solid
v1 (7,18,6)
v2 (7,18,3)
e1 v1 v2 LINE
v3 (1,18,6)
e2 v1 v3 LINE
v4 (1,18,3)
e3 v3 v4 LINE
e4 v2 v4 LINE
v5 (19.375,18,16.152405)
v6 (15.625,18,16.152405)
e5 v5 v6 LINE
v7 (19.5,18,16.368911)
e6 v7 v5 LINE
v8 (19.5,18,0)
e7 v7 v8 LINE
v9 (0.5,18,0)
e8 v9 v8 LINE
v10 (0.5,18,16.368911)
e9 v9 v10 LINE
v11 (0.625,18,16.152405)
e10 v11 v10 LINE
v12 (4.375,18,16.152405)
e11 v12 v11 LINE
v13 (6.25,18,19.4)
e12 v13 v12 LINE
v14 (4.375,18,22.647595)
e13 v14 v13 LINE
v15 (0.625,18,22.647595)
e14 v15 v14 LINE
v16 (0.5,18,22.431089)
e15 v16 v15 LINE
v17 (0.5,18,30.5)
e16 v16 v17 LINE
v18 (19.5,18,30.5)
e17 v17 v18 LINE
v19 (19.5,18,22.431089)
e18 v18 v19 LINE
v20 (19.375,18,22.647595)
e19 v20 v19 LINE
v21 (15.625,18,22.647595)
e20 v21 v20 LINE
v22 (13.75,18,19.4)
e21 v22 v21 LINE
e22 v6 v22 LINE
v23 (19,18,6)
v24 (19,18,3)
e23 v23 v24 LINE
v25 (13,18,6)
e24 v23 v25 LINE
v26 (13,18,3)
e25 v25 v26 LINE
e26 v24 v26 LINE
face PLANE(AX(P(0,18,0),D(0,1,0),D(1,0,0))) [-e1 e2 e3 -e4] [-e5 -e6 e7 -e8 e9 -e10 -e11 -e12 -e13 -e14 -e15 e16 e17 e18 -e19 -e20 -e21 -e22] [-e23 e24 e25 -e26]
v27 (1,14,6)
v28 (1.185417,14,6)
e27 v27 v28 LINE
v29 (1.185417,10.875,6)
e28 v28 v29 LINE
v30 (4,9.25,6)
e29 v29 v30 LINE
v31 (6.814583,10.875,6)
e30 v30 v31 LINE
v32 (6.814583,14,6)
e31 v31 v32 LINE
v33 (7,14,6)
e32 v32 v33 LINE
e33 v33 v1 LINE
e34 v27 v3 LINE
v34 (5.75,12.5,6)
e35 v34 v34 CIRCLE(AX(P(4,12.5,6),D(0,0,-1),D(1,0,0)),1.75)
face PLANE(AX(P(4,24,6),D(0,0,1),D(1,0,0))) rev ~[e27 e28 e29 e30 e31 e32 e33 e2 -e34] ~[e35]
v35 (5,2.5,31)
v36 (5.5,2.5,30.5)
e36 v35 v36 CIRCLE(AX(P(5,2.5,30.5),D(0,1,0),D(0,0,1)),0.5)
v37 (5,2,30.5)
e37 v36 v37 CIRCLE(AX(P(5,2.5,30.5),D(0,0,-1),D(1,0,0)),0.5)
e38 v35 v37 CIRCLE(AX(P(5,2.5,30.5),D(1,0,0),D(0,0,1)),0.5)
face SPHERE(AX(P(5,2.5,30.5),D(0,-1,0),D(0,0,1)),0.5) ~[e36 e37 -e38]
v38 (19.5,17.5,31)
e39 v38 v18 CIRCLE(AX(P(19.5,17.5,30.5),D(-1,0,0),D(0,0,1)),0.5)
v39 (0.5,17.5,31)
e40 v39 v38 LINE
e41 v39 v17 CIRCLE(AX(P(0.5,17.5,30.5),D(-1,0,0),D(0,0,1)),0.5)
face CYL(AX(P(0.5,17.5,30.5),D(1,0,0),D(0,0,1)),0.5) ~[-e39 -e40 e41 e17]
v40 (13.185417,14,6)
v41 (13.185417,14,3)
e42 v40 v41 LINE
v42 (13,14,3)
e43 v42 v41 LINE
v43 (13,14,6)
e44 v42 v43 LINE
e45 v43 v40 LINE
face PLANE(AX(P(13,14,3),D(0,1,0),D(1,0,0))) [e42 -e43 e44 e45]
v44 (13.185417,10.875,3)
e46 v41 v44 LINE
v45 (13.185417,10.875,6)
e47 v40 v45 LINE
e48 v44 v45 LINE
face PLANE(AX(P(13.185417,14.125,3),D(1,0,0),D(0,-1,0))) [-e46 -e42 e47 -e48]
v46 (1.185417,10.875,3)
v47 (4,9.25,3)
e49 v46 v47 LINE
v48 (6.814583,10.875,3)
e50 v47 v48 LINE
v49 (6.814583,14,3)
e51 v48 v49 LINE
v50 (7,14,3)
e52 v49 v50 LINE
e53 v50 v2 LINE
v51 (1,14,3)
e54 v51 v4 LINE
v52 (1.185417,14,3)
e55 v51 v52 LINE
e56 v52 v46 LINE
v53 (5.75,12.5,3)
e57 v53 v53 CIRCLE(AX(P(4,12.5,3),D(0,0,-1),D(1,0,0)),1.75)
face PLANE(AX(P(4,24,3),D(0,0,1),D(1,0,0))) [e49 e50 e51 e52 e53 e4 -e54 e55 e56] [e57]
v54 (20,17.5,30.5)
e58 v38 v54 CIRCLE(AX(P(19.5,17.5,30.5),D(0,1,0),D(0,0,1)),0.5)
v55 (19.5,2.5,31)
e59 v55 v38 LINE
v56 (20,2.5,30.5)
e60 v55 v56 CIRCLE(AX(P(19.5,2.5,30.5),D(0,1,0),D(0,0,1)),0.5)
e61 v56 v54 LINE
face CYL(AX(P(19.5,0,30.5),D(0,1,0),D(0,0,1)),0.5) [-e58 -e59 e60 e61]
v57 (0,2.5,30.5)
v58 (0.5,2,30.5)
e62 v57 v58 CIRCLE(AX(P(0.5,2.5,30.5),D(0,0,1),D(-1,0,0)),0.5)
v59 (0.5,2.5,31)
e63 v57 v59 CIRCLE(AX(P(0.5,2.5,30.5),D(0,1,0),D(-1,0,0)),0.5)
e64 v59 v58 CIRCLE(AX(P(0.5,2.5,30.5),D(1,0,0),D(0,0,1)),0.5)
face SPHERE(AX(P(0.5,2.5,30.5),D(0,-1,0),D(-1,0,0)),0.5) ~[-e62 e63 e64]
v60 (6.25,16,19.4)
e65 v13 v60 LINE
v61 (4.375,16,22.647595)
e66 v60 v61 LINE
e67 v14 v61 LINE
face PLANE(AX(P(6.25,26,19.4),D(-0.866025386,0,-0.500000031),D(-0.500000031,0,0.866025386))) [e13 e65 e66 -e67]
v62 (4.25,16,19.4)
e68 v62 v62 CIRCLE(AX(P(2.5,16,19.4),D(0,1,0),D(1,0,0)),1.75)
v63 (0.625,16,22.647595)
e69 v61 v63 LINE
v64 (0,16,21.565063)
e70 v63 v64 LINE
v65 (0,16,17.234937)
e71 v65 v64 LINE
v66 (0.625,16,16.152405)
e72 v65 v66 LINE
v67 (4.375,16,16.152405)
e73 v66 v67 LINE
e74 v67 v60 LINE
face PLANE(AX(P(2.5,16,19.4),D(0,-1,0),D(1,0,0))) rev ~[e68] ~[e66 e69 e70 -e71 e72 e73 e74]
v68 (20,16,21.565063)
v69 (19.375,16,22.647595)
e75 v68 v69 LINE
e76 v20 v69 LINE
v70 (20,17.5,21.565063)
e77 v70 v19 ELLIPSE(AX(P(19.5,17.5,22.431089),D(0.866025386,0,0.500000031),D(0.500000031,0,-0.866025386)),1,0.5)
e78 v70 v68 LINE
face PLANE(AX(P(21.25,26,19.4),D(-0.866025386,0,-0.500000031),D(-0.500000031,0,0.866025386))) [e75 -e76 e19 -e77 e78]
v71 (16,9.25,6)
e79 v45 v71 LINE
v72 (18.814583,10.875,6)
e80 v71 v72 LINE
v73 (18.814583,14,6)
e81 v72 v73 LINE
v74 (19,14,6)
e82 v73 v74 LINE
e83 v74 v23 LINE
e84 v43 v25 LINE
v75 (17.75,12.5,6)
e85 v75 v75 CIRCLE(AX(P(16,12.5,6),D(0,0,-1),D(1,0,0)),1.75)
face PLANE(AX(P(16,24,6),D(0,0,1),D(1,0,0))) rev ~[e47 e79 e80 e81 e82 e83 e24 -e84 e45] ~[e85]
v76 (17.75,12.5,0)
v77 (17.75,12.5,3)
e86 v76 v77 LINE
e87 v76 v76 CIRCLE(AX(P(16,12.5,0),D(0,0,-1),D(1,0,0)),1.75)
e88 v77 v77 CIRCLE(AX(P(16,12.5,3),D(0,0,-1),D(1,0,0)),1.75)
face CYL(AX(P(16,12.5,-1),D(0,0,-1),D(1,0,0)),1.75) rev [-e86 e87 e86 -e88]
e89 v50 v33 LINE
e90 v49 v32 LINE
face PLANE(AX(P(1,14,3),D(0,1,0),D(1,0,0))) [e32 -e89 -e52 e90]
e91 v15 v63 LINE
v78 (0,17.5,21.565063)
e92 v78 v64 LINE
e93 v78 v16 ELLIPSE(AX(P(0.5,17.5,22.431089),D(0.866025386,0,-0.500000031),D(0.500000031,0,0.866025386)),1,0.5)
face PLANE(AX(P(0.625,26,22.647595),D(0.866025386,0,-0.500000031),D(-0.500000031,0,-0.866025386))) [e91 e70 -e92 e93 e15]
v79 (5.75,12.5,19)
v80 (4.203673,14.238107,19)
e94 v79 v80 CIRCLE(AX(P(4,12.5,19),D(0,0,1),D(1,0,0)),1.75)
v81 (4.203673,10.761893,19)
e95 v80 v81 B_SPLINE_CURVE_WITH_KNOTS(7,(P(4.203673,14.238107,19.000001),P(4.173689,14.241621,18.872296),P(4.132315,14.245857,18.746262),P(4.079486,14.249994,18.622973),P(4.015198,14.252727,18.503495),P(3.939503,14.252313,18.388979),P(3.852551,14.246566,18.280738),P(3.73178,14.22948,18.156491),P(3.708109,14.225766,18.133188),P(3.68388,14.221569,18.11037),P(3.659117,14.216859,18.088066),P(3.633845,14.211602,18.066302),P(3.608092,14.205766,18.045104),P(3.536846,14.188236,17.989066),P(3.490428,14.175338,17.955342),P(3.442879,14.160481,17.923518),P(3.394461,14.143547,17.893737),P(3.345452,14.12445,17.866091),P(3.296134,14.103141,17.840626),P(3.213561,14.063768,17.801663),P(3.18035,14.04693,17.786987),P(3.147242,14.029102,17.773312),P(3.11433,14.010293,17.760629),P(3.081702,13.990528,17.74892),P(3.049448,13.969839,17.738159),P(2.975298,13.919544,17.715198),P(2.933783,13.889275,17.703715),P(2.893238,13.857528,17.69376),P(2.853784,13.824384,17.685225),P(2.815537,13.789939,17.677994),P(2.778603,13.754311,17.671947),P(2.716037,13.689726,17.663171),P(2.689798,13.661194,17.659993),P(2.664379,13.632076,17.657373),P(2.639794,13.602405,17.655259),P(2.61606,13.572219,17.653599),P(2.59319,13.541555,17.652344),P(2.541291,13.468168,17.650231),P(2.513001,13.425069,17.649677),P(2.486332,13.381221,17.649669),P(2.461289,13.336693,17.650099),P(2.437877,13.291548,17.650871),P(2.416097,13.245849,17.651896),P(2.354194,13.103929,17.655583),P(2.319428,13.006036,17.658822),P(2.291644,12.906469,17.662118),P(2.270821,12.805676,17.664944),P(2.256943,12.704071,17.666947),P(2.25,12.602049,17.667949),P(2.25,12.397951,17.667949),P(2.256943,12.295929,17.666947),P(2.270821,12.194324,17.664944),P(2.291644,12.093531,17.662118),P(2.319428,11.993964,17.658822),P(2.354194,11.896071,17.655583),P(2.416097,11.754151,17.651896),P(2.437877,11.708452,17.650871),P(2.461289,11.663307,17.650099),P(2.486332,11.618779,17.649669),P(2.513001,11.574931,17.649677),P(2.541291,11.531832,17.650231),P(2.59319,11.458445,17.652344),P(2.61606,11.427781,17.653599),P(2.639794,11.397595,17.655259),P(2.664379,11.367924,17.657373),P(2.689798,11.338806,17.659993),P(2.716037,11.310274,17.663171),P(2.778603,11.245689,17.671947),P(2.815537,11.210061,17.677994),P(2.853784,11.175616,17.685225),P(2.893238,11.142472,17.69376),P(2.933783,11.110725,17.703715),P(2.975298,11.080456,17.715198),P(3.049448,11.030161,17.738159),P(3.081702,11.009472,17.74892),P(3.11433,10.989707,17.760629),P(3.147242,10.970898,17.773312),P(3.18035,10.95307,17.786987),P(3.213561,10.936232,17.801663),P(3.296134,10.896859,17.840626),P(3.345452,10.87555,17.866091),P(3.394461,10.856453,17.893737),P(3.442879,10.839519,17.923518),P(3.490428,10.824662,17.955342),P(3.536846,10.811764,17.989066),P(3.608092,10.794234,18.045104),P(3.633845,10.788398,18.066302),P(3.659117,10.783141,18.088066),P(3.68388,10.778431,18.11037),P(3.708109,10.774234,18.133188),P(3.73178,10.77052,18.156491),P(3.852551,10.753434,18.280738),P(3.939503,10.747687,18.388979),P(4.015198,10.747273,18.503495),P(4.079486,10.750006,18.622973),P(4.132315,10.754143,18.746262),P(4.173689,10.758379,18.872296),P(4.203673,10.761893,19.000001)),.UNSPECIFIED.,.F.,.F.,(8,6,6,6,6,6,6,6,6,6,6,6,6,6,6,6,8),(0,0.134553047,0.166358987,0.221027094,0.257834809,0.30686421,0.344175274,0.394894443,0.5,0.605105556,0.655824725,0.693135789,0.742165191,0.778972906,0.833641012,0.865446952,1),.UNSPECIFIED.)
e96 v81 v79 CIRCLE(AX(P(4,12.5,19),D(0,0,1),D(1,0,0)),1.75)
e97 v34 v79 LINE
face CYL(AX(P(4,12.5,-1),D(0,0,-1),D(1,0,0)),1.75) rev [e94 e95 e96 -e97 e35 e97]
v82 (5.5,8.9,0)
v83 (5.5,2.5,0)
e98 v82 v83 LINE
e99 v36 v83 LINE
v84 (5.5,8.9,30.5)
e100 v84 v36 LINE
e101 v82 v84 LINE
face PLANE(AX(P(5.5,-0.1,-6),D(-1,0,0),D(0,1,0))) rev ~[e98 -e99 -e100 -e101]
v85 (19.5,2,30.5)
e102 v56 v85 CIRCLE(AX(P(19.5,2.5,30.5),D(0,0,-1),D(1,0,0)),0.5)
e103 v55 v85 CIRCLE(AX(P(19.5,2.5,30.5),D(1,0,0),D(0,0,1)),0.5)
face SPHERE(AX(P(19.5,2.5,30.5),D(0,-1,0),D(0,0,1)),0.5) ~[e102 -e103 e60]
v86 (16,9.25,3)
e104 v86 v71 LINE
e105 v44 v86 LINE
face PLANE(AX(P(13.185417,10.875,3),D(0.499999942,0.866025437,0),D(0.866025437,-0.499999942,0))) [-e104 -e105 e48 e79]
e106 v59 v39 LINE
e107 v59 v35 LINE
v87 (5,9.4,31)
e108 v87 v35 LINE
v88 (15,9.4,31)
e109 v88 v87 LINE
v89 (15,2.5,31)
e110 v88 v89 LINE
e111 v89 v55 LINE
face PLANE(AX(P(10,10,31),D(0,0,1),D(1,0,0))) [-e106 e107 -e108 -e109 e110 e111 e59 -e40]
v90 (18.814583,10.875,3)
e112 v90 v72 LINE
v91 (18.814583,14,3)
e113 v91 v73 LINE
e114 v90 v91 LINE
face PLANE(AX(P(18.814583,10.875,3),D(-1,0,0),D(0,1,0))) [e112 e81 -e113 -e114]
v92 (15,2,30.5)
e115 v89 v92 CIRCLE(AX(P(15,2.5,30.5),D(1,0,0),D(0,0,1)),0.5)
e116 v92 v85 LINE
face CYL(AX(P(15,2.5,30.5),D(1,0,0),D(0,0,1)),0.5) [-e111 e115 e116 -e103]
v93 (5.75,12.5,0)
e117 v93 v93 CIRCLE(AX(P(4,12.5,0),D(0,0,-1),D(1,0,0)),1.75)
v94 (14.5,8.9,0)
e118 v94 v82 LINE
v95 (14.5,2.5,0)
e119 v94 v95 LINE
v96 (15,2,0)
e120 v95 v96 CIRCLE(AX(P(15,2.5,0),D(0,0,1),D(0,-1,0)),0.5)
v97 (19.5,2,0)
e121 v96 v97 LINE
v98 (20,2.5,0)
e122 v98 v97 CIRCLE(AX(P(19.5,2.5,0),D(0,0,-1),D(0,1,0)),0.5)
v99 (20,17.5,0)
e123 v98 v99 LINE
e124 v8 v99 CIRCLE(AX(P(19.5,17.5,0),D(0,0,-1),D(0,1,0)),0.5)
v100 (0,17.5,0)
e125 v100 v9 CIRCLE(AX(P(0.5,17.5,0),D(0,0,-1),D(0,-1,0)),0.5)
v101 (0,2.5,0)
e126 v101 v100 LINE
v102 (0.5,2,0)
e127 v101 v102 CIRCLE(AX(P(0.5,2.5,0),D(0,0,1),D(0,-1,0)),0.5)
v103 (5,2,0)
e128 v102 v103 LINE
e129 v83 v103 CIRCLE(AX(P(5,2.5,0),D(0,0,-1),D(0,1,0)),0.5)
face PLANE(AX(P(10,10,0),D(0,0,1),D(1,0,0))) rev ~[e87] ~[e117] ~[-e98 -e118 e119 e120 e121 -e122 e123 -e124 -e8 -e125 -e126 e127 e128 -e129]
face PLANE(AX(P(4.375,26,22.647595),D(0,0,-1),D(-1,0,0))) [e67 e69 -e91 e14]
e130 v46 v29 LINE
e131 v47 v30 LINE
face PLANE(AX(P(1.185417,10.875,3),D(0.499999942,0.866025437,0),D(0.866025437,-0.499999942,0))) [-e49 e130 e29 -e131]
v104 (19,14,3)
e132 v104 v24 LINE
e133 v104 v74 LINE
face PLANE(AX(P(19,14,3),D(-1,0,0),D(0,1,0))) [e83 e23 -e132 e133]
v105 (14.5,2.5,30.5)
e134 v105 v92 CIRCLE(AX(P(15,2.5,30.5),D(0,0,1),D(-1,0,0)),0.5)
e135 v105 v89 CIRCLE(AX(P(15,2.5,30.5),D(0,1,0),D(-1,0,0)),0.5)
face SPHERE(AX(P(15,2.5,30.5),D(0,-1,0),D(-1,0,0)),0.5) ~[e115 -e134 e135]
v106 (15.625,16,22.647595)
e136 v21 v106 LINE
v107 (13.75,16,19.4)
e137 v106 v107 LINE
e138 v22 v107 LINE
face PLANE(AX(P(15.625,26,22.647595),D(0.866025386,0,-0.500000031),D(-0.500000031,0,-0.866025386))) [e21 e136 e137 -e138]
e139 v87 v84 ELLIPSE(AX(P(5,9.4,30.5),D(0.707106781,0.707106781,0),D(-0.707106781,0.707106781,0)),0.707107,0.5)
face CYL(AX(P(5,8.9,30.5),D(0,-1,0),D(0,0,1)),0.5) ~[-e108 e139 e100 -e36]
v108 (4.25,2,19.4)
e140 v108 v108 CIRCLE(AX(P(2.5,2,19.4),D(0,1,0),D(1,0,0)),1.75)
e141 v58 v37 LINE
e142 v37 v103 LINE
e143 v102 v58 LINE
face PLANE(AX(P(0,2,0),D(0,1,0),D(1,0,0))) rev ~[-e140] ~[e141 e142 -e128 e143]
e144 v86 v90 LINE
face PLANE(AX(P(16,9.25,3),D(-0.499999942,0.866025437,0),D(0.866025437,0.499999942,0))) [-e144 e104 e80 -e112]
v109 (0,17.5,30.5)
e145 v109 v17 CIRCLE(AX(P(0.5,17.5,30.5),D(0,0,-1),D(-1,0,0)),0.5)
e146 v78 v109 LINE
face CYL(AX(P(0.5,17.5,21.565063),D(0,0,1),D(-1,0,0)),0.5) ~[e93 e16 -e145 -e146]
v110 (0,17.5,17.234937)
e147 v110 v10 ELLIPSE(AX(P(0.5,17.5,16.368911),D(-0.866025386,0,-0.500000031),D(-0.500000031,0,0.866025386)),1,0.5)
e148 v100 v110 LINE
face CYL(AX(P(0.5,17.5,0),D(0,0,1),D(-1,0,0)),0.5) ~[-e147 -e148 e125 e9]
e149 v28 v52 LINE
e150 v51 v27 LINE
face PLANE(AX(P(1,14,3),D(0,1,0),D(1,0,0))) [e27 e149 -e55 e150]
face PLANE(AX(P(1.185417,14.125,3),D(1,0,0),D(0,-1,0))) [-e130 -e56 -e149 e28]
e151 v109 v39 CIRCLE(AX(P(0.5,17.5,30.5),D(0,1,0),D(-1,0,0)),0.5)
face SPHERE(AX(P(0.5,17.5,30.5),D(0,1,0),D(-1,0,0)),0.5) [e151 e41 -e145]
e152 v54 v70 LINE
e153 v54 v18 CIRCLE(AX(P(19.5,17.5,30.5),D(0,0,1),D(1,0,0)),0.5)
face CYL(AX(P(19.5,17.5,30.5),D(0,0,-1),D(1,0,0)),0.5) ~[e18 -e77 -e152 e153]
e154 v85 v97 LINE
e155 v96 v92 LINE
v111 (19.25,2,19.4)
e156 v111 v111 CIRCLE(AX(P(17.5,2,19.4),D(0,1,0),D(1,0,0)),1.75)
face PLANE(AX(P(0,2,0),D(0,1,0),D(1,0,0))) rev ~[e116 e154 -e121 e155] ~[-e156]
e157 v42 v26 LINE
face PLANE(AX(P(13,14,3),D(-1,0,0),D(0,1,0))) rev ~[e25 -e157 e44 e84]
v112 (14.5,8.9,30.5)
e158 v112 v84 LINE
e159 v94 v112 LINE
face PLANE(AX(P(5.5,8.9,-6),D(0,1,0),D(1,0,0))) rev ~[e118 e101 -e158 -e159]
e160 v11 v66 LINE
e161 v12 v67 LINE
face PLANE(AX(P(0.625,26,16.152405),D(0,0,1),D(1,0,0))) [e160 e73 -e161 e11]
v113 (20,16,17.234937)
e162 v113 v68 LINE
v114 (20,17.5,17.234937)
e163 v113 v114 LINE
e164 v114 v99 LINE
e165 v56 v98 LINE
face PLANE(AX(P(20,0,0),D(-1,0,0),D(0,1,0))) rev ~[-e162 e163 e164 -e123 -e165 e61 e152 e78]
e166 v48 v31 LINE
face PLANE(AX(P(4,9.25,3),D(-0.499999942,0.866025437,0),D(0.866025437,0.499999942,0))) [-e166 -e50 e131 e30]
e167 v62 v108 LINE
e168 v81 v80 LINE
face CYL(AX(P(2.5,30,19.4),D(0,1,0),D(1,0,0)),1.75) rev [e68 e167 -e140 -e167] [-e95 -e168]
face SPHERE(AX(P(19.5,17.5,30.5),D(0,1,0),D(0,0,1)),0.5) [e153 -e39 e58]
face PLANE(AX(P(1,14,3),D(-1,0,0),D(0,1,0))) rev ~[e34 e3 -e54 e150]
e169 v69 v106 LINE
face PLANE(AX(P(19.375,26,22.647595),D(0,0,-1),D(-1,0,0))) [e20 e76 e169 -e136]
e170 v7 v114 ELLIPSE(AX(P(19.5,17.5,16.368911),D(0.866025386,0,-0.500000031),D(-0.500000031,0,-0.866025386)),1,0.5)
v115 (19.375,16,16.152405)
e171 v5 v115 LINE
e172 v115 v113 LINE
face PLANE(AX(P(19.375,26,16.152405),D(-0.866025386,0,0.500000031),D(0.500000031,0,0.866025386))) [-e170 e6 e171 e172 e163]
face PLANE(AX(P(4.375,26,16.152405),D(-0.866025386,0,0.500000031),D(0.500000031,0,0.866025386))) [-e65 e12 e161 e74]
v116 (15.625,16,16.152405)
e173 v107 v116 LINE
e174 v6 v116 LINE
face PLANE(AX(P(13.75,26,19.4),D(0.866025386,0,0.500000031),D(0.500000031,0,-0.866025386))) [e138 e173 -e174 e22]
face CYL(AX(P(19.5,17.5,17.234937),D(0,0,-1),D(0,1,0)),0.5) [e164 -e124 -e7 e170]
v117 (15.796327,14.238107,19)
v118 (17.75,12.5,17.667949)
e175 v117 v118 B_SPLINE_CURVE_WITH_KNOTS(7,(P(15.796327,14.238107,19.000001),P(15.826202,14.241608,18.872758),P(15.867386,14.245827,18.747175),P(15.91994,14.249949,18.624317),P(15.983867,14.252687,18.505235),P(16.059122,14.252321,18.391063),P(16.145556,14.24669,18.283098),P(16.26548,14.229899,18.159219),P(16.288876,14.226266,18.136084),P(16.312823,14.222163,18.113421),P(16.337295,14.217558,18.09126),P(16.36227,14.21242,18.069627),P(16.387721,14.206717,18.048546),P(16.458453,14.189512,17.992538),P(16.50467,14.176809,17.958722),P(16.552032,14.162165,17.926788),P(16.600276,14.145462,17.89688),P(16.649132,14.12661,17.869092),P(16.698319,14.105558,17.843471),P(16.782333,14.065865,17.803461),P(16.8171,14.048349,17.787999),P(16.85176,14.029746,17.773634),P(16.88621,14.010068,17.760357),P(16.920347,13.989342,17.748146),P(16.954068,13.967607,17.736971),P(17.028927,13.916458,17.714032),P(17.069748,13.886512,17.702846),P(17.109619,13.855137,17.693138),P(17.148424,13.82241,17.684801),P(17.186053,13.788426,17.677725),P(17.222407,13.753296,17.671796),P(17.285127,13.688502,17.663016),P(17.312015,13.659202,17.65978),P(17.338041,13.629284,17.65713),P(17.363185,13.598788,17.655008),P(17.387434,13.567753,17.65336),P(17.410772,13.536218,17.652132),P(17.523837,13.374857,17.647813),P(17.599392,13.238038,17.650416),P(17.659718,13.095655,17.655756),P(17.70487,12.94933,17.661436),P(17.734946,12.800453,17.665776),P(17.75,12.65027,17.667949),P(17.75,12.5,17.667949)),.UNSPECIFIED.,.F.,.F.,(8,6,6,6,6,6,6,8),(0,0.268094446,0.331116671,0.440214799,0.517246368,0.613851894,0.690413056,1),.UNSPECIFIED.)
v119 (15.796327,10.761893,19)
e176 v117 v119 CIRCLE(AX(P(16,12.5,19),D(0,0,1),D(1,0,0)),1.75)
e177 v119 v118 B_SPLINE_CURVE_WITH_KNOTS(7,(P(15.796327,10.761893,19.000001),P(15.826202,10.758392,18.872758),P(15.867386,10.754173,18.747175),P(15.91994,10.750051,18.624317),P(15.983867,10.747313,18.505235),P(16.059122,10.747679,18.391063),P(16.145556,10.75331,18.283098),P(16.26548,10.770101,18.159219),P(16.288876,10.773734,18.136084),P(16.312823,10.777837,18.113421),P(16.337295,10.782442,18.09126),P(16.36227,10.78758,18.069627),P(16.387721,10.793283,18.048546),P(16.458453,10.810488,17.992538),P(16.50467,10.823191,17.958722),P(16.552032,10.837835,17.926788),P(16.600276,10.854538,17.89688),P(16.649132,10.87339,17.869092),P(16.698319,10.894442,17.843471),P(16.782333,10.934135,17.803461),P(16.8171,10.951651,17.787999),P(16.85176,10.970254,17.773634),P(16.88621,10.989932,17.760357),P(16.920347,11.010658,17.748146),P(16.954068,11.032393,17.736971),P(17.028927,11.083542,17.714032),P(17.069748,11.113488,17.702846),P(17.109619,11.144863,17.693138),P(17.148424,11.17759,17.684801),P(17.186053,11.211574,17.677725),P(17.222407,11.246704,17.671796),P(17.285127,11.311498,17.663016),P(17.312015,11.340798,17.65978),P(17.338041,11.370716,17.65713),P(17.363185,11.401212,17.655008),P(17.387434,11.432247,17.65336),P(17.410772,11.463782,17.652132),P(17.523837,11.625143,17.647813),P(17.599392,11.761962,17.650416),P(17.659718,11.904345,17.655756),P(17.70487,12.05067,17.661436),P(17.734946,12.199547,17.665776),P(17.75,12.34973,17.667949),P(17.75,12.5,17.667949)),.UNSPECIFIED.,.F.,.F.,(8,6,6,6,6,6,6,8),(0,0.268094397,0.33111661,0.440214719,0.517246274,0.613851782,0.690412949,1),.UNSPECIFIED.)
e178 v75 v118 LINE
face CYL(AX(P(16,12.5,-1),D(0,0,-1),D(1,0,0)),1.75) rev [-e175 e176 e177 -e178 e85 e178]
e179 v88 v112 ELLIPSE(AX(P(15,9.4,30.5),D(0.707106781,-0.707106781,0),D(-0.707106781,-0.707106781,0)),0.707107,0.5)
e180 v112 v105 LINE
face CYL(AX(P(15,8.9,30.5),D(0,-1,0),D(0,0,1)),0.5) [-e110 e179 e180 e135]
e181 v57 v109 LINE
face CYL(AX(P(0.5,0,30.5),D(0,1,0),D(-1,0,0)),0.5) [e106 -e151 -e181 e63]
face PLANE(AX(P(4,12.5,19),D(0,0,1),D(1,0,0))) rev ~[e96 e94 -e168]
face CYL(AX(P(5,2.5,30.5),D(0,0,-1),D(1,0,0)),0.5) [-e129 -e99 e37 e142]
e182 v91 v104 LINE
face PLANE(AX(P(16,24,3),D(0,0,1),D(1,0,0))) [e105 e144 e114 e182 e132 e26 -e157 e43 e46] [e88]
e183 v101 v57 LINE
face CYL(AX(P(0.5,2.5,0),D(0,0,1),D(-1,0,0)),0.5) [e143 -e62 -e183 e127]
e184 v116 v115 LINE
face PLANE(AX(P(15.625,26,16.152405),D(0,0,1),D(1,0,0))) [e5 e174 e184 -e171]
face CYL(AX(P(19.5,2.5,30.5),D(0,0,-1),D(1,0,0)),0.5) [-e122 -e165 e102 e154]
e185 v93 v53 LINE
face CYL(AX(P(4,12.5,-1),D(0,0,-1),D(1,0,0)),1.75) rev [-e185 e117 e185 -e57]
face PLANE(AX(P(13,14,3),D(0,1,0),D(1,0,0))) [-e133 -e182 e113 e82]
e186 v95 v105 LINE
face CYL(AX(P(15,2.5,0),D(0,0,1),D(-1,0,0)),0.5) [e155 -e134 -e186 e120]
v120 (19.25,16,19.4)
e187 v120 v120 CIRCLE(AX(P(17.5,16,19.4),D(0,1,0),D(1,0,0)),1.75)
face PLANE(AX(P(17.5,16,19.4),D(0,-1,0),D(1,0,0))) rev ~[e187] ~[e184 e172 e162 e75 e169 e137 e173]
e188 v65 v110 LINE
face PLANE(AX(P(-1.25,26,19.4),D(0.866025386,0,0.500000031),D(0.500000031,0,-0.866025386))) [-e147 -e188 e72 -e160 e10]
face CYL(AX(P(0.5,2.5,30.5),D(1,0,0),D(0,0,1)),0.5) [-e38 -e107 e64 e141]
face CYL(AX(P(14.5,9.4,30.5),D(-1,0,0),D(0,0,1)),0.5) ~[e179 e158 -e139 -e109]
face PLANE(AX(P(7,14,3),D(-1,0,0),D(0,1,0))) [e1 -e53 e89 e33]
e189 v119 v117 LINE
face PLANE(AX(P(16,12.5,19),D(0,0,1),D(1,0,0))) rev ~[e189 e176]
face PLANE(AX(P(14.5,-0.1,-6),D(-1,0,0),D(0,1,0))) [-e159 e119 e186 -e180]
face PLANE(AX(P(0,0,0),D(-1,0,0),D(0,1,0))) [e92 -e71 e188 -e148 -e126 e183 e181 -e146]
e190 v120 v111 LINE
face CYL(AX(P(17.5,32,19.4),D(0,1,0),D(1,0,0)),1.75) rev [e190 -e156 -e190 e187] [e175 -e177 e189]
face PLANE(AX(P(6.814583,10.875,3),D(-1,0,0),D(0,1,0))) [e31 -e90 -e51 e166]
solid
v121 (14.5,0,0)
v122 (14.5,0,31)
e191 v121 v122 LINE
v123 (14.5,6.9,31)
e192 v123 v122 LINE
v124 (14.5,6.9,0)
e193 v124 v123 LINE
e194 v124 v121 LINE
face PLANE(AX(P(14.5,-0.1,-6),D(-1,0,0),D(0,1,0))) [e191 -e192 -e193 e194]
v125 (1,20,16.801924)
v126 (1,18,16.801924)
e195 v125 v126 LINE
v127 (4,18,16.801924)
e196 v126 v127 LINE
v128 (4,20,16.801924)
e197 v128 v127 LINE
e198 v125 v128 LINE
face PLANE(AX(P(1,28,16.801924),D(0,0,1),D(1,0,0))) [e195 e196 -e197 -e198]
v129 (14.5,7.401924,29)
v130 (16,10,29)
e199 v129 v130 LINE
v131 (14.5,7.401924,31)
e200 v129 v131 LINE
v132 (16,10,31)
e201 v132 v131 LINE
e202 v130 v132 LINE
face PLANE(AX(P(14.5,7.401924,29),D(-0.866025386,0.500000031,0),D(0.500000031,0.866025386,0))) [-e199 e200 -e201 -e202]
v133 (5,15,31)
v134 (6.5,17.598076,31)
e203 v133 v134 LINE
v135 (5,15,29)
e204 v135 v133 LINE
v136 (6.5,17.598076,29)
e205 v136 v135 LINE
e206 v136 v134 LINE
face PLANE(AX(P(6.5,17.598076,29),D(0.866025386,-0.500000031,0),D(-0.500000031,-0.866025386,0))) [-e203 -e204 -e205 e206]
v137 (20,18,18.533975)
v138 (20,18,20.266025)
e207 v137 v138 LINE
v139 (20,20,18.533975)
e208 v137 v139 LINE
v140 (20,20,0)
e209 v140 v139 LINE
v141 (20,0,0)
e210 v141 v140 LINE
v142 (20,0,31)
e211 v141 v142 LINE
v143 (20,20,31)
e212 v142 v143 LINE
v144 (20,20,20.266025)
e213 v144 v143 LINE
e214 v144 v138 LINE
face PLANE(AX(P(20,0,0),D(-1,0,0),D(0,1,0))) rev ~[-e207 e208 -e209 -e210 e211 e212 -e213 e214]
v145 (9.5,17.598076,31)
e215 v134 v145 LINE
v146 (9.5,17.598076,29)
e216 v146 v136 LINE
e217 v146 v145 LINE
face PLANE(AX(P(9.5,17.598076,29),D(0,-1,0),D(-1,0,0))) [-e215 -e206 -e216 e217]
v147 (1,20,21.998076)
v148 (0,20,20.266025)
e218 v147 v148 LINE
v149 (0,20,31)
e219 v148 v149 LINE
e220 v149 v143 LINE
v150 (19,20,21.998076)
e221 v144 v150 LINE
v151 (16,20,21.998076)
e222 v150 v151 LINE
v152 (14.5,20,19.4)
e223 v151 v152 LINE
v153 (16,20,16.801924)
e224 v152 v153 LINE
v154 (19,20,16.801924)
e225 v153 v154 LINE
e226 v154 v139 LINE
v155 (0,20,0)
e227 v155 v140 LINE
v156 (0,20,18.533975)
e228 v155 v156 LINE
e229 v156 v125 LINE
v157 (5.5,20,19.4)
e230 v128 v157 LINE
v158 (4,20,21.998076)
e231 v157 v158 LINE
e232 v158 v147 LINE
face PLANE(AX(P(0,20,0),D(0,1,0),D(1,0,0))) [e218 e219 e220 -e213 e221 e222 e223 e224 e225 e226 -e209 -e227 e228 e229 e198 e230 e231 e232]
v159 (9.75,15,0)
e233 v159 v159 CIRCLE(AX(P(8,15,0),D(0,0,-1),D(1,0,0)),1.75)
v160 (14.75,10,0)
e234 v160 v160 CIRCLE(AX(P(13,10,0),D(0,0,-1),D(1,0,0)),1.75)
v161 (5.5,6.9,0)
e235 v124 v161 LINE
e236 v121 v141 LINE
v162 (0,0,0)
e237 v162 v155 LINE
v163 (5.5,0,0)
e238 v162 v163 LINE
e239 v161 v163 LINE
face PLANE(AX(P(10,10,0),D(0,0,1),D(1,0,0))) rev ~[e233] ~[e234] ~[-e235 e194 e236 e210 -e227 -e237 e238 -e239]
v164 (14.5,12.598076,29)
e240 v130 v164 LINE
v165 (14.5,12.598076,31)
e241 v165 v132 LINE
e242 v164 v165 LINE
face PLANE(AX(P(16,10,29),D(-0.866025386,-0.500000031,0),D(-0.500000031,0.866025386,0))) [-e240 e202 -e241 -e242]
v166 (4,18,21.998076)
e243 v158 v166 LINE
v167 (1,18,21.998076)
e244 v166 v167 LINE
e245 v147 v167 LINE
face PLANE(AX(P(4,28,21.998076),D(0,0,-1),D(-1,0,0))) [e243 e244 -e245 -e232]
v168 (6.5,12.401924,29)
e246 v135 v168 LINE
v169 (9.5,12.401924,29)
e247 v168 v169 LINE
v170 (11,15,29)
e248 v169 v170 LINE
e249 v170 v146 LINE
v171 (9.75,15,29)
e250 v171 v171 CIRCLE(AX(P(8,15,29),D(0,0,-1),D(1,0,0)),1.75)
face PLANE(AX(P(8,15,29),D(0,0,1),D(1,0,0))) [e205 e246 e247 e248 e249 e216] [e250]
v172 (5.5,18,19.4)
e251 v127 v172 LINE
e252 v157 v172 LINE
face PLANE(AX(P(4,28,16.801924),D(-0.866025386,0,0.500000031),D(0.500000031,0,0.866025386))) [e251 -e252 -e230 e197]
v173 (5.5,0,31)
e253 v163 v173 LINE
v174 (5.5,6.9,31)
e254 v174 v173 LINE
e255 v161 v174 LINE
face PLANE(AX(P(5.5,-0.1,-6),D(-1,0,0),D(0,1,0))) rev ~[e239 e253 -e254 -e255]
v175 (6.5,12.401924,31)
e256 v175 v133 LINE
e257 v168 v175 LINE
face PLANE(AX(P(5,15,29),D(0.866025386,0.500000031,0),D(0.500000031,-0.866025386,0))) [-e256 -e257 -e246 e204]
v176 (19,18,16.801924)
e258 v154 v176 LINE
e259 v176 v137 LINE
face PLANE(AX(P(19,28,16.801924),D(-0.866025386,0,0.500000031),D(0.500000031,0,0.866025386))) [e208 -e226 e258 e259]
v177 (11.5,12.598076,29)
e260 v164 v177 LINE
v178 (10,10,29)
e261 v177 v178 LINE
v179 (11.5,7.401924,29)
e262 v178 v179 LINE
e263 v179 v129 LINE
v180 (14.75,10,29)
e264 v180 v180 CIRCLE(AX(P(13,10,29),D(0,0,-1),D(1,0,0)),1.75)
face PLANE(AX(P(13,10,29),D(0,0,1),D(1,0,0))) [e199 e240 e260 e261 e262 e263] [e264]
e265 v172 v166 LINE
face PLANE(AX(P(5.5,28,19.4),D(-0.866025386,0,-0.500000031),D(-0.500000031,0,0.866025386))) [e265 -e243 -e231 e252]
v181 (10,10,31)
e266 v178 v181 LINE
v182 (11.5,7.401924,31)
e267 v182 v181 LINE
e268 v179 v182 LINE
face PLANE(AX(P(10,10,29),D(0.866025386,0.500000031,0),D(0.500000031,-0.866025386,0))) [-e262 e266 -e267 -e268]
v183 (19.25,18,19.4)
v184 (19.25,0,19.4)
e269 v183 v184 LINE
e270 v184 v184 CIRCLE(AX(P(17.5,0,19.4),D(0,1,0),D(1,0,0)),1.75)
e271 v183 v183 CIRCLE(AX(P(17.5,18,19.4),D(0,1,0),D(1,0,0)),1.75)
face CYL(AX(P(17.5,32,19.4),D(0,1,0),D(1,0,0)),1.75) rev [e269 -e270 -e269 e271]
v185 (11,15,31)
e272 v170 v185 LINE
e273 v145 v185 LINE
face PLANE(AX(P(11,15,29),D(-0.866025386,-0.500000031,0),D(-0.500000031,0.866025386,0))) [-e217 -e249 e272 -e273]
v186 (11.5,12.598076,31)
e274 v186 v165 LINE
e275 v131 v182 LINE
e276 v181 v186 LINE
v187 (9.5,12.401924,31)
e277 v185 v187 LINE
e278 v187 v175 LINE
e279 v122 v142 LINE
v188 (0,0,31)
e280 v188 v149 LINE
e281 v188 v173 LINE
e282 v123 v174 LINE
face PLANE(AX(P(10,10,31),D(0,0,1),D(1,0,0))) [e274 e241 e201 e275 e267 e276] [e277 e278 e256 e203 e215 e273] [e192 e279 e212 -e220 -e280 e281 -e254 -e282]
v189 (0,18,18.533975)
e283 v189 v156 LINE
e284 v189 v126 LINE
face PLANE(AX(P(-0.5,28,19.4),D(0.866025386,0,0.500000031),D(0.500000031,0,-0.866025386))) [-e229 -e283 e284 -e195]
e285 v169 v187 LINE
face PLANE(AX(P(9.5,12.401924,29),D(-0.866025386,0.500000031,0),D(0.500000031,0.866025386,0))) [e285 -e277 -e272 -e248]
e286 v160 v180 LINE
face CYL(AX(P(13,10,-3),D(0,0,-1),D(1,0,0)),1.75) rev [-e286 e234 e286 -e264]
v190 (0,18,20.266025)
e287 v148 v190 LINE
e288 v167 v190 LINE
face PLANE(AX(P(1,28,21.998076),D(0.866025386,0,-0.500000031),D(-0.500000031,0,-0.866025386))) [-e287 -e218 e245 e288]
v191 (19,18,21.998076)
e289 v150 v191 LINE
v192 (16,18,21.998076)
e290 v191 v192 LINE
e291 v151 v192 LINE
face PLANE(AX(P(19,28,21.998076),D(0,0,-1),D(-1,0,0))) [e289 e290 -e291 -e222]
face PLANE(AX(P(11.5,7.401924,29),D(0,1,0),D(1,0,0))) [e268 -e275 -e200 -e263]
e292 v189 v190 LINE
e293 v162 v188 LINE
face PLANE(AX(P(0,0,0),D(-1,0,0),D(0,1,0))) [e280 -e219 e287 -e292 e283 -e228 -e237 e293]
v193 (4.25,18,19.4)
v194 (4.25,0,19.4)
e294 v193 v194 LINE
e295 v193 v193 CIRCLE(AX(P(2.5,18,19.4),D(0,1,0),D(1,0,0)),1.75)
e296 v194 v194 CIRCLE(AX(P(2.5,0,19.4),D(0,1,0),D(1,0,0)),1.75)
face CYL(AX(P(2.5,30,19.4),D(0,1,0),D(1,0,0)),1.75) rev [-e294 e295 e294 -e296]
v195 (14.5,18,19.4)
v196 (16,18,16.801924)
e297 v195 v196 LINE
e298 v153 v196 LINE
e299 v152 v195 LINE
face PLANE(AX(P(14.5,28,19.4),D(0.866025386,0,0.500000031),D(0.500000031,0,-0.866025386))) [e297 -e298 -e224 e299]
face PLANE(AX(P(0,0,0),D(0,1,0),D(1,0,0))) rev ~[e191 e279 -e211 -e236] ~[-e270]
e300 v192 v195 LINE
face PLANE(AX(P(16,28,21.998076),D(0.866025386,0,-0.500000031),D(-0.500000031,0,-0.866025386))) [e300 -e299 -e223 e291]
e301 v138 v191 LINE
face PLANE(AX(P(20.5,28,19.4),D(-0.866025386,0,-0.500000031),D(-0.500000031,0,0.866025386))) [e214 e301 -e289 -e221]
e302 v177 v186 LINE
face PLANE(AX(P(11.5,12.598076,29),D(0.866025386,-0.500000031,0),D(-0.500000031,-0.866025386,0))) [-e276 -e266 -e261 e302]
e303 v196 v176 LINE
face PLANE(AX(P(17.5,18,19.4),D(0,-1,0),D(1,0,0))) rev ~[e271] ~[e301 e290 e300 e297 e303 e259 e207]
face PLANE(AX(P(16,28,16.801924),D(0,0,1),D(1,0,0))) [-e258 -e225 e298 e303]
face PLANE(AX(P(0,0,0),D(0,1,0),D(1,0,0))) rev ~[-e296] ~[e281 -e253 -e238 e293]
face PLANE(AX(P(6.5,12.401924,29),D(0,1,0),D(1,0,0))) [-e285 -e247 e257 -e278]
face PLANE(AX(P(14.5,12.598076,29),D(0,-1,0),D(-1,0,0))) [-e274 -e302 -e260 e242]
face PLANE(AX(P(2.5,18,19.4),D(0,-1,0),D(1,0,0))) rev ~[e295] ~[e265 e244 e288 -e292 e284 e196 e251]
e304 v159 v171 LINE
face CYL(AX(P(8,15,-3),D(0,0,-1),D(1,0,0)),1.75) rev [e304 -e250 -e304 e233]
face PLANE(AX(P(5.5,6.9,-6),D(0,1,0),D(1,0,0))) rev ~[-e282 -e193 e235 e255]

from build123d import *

# Parameters (mm, degrees)
BOX001_W          = 9
BOX001_H          = 7
BOX001_DEPTH      = 42
PRISM003_DEPTH    = 10
PRISM002_DEPTH    = 10
CYLINDER004_R     = 1.75
CYLINDER004_DEPTH = 43
CYLINDER003_R     = 1.75
CYLINDER003_DEPTH = 40
CYLINDER002_R     = 1.75
CYLINDER002_DEPTH = 39
CYLINDER001_R     = 1.75
CYLINDER001_DEPTH = 41
PRISM001_DEPTH    = 10
PRISM_DEPTH       = 10
BOX_W             = 20
BOX_H             = 20
BOX_DEPTH         = 31
BOX009_W          = 30
BOX009_H          = 30
BOX009_DEPTH      = 35
BOX008_W          = 30
BOX008_H          = 30
BOX008_DEPTH      = 35
PRISM004_DEPTH    = 3
CYLINDER005_R     = 1.75
CYLINDER005_DEPTH = 20
BOX004_W          = 6
BOX004_H          = 20
BOX004_DEPTH      = 3
PRISM007_DEPTH    = 3
CYLINDER008_R     = 1.75
CYLINDER008_DEPTH = 20
BOX007_W          = 6
BOX007_H          = 20
BOX007_DEPTH      = 3
BOX006_W          = 9
BOX006_H          = 9
BOX006_DEPTH      = 42
CYLINDER006_R     = 1.75
CYLINDER006_DEPTH = 39
CYLINDER007_R     = 1.75
CYLINDER007_DEPTH = 41
PRISM005_DEPTH    = 10
PRISM006_DEPTH    = 10
BOX005_W          = 20
BOX005_H          = 20
BOX005_DEPTH      = 31
FILLET_R          = 0.5
FILLET001_R       = 0.5


with BuildPart() as cubo001:
    # Box001 → Box001 (new body)
    with BuildSketch(Plane(origin=(5.5, -0.1, -6), x_dir=(1, 0, 0), z_dir=(0, 0, 1))):
        with Locations((4.5, 3.5)):
            Rectangle(BOX001_W, BOX001_H)
    extrude(amount=BOX001_DEPTH)


with BuildPart() as prisma003:
    # Prism003 → Prism003 (new body)
    with BuildSketch(Plane(origin=(8, 15, 29), x_dir=(1, 0, 0), z_dir=(0, 0, 1))):
        Polygon((3, 0), (1.5, 2.598076), (-1.5, 2.598076), (-3, 0), (-1.5, -2.598076), (1.5, -2.598076), align=None)
    extrude(amount=PRISM003_DEPTH)


with BuildPart() as prisma002:
    # Prism002 → Prism002 (new body)
    with BuildSketch(Plane(origin=(13, 10, 29), x_dir=(1, 0, 0), z_dir=(0, 0, 1))):
        Polygon((3, 0), (1.5, 2.598076), (-1.5, 2.598076), (-3, 0), (-1.5, -2.598076), (1.5, -2.598076), align=None)
    extrude(amount=PRISM002_DEPTH)


with BuildPart() as cilindro004:
    # Cylinder004 → Cylinder004 (new body)
    with BuildSketch(Plane(origin=(8, 15, -3), x_dir=(1, 0, 0), z_dir=(0, 0, 1))):
        Circle(CYLINDER004_R)
    extrude(amount=CYLINDER004_DEPTH)


with BuildPart() as cilindro003:
    # Cylinder003 → Cylinder003 (new body)
    with BuildSketch(Plane(origin=(13, 10, -3), x_dir=(1, 0, 0), z_dir=(0, 0, 1))):
        Circle(CYLINDER003_R)
    extrude(amount=CYLINDER003_DEPTH)


with BuildPart() as cilindro002:
    # Cylinder002 → Cylinder002 (new body)
    with BuildSketch(Plane(origin=(17.5, 32, 19.4), x_dir=(1, 0, 0), z_dir=(0, -1, 0))):
        Circle(CYLINDER002_R)
    extrude(amount=CYLINDER002_DEPTH)


with BuildPart() as cilindro001:
    # Cylinder001 → Cylinder001 (new body)
    with BuildSketch(Plane(origin=(2.5, 30, 19.4), x_dir=(1, 0, 0), z_dir=(0, -1, 0))):
        Circle(CYLINDER001_R)
    extrude(amount=CYLINDER001_DEPTH)


with BuildPart() as prisma001:
    # Prism001 → Prism001 (new body)
    with BuildSketch(Plane(origin=(17.5, 28, 19.4), x_dir=(1, 0, 0), z_dir=(0, -1, 0))):
        Polygon((3, 0), (1.5, 2.598076), (-1.5, 2.598076), (-3, 0), (-1.5, -2.598076), (1.5, -2.598076), align=None)
    extrude(amount=PRISM001_DEPTH)


with BuildPart() as prisma:
    # Prism → Prism (new body)
    with BuildSketch(Plane(origin=(2.5, 28, 19.4), x_dir=(1, 0, 0), z_dir=(0, -1, 0))):
        Polygon((3, 0), (1.5, 2.598076), (-1.5, 2.598076), (-3, 0), (-1.5, -2.598076), (1.5, -2.598076), align=None)
    extrude(amount=PRISM_DEPTH)


with BuildPart() as nada:
    # Box → Box (new body)
    with BuildSketch(Plane.XY):
        with Locations((10, 10)):
            Rectangle(BOX_W, BOX_H)
    extrude(amount=BOX_DEPTH)

    # Cut: cut Prisma
    add(prisma.part, mode=Mode.SUBTRACT)

    # Cut001: cut Prisma001
    add(prisma001.part, mode=Mode.SUBTRACT)

    # Cut002: cut Cilindro001
    add(cilindro001.part, mode=Mode.SUBTRACT)

    # Cut003: cut Cilindro002
    add(cilindro002.part, mode=Mode.SUBTRACT)

    # Cut004: cut Cilindro003
    add(cilindro003.part, mode=Mode.SUBTRACT)

    # Cut005: cut Cilindro004
    add(cilindro004.part, mode=Mode.SUBTRACT)

    # Cut006: cut Prisma002
    add(prisma002.part, mode=Mode.SUBTRACT)

    # Cut007: cut Prisma003
    add(prisma003.part, mode=Mode.SUBTRACT)

    # Cut008: cut Cubo001
    add(cubo001.part, mode=Mode.SUBTRACT)


with BuildPart() as cubo009:
    # Box009 → Box009 (new body)
    with BuildSketch(Plane(origin=(0, -28, 0), x_dir=(1, 0, 0), z_dir=(0, 0, 1))):
        with Locations((15, 15)):
            Rectangle(BOX009_W, BOX009_H)
    extrude(amount=BOX009_DEPTH)


with BuildPart() as cubo008:
    # Box008 → Box008 (new body)
    with BuildSketch(Plane(origin=(0, 18, 0), x_dir=(1, 0, 0), z_dir=(0, 0, 1))):
        with Locations((15, 15)):
            Rectangle(BOX008_W, BOX008_H)
    extrude(amount=BOX008_DEPTH)


with BuildPart() as prisma004:
    # Prism004 → Prism004 (new body)
    with BuildSketch(Plane(origin=(34, 7.5, 3), x_dir=(0, 1, 0), z_dir=(0, 0, 1))):
        Polygon((3.25, 0), (1.625, 2.814583), (-1.625, 2.814583), (-3.25, 0), (-1.625, -2.814583), (1.625, -2.814583), align=None)
    extrude(amount=PRISM004_DEPTH)


with BuildPart() as cilindro005:
    # Cylinder005 → Cylinder005 (new body)
    with BuildSketch(Plane(origin=(34, 7.5, -1), x_dir=(1, 0, 0), z_dir=(0, 0, 1))):
        Circle(CYLINDER005_R)
    extrude(amount=CYLINDER005_DEPTH)


with BuildPart() as fusion001:
    # Box004 → Box004 (new body)
    with BuildSketch(Plane(origin=(31, 9, 3), x_dir=(1, 0, 0), z_dir=(0, 0, 1))):
        with Locations((3, 10)):
            Rectangle(BOX004_W, BOX004_H)
    extrude(amount=BOX004_DEPTH)

    # Fusion001: union Prisma004, Cilindro005
    add(prisma004.part)
    add(cilindro005.part)


with BuildPart() as fusion001_1:
    # Fusion001 placement: moved
    add(fusion001.part.moved(Location((-18, 5, 0))))


with BuildPart() as prisma007:
    # Prism007 → Prism007 (new body)
    with BuildSketch(Plane(origin=(34, 7.5, 3), x_dir=(0, 1, 0), z_dir=(0, 0, 1))):
        Polygon((3.25, 0), (1.625, 2.814583), (-1.625, 2.814583), (-3.25, 0), (-1.625, -2.814583), (1.625, -2.814583), align=None)
    extrude(amount=PRISM007_DEPTH)


with BuildPart() as cilindro008:
    # Cylinder008 → Cylinder008 (new body)
    with BuildSketch(Plane(origin=(34, 7.5, -1), x_dir=(1, 0, 0), z_dir=(0, 0, 1))):
        Circle(CYLINDER008_R)
    extrude(amount=CYLINDER008_DEPTH)


with BuildPart() as fusion002:
    # Box007 → Box007 (new body)
    with BuildSketch(Plane(origin=(31, 9, 3), x_dir=(1, 0, 0), z_dir=(0, 0, 1))):
        with Locations((3, 10)):
            Rectangle(BOX007_W, BOX007_H)
    extrude(amount=BOX007_DEPTH)

    # Fusion002: union Prisma007, Cilindro008
    add(prisma007.part)
    add(cilindro008.part)


with BuildPart() as fusion002_1:
    # Fusion002 placement: moved
    add(fusion002.part.moved(Location((-30, 5, 0))))


with BuildPart() as cubo006:
    # Box006 → Box006 (new body)
    with BuildSketch(Plane(origin=(5.5, -0.1, -6), x_dir=(1, 0, 0), z_dir=(0, 0, 1))):
        with Locations((4.5, 4.5)):
            Rectangle(BOX006_W, BOX006_H)
    extrude(amount=BOX006_DEPTH)


with BuildPart() as cilindro006:
    # Cylinder006 → Cylinder006 (new body)
    with BuildSketch(Plane(origin=(17.5, 32, 19.4), x_dir=(1, 0, 0), z_dir=(0, -1, 0))):
        Circle(CYLINDER006_R)
    extrude(amount=CYLINDER006_DEPTH)


with BuildPart() as cilindro007:
    # Cylinder007 → Cylinder007 (new body)
    with BuildSketch(Plane(origin=(2.5, 30, 19.4), x_dir=(1, 0, 0), z_dir=(0, -1, 0))):
        Circle(CYLINDER007_R)
    extrude(amount=CYLINDER007_DEPTH)


with BuildPart() as prisma005:
    # Prism005 → Prism005 (new body)
    with BuildSketch(Plane(origin=(17.5, 26, 19.4), x_dir=(1, 0, 0), z_dir=(0, -1, 0))):
        Polygon((3.75, 0), (1.875, 3.247595), (-1.875, 3.247595), (-3.75, 0), (-1.875, -3.247595), (1.875, -3.247595), align=None)
    extrude(amount=PRISM005_DEPTH)


with BuildPart() as prisma006:
    # Prism006 → Prism006 (new body)
    with BuildSketch(Plane(origin=(2.5, 26, 19.4), x_dir=(1, 0, 0), z_dir=(0, -1, 0))):
        Polygon((3.75, 0), (1.875, 3.247595), (-1.875, 3.247595), (-3.75, 0), (-1.875, -3.247595), (1.875, -3.247595), align=None)
    extrude(amount=PRISM006_DEPTH)


with BuildPart() as fillet001:
    # Box005 → Box005 (new body)
    with BuildSketch(Plane.XY):
        with Locations((10, 10)):
            Rectangle(BOX005_W, BOX005_H)
    extrude(amount=BOX005_DEPTH)

    # Cut009: cut Prisma006
    add(prisma006.part, mode=Mode.SUBTRACT)

    # Cut010: cut Prisma005
    add(prisma005.part, mode=Mode.SUBTRACT)

    # Cut011: cut Cilindro007
    add(cilindro007.part, mode=Mode.SUBTRACT)

    # Cut012: cut Cilindro006
    add(cilindro006.part, mode=Mode.SUBTRACT)

    # Cut013: cut Cubo006
    add(cubo006.part, mode=Mode.SUBTRACT)

    # Cut014: cut Fusion002
    add(fusion002_1.part, mode=Mode.SUBTRACT)

    # Cut015: cut Fusion001
    add(fusion001_1.part, mode=Mode.SUBTRACT)

    # Fillet
    fillet_edges = [fillet001.edges().sort_by_distance(p)[0] for p in [
        (0, 10, 31),
        (0, 20, 26.282532),
        (0, 20, 8.617468),
        (0, 0, 15.5),
        (10, 20, 31),
        (20, 10, 31),
        (17.25, 0, 31),
        (14.5, 4.45, 31),
        (10, 8.9, 31),
        (5.5, 4.45, 31),
        (2.75, 0, 31),
        (20, 20, 8.617468),
        (20, 20, 26.282532),
        (5.5, 0, 15.5),
        (20, 0, 15.5),
        (14.5, 0, 15.5),
    ]]
    fillet(fillet_edges, radius=FILLET_R)

    # Cut016: cut Cubo008
    add(cubo008.part, mode=Mode.SUBTRACT)

    # Cut017: cut Cubo009
    add(cubo009.part, mode=Mode.SUBTRACT)

    # Fillet001
    fillet001_edges = [fillet001.edges().sort_by_distance(p)[0] for p in [
        (0, 18, 8.617468),
        (0, 2, 15.25),
        (0, 18, 26.032532),
        (20, 18, 8.617468),
        (20, 18, 26.032532),
        (10, 18, 31),
        (5.5, 2, 15.25),
        (2.75, 2, 31),
        (20, 2, 15.25),
        (17.25, 2, 31),
        (14.5, 2, 15.25),
    ]]
    fillet(fillet001_edges, radius=FILLET001_R)


solid = Compound([nada.part, fillet001.part])
